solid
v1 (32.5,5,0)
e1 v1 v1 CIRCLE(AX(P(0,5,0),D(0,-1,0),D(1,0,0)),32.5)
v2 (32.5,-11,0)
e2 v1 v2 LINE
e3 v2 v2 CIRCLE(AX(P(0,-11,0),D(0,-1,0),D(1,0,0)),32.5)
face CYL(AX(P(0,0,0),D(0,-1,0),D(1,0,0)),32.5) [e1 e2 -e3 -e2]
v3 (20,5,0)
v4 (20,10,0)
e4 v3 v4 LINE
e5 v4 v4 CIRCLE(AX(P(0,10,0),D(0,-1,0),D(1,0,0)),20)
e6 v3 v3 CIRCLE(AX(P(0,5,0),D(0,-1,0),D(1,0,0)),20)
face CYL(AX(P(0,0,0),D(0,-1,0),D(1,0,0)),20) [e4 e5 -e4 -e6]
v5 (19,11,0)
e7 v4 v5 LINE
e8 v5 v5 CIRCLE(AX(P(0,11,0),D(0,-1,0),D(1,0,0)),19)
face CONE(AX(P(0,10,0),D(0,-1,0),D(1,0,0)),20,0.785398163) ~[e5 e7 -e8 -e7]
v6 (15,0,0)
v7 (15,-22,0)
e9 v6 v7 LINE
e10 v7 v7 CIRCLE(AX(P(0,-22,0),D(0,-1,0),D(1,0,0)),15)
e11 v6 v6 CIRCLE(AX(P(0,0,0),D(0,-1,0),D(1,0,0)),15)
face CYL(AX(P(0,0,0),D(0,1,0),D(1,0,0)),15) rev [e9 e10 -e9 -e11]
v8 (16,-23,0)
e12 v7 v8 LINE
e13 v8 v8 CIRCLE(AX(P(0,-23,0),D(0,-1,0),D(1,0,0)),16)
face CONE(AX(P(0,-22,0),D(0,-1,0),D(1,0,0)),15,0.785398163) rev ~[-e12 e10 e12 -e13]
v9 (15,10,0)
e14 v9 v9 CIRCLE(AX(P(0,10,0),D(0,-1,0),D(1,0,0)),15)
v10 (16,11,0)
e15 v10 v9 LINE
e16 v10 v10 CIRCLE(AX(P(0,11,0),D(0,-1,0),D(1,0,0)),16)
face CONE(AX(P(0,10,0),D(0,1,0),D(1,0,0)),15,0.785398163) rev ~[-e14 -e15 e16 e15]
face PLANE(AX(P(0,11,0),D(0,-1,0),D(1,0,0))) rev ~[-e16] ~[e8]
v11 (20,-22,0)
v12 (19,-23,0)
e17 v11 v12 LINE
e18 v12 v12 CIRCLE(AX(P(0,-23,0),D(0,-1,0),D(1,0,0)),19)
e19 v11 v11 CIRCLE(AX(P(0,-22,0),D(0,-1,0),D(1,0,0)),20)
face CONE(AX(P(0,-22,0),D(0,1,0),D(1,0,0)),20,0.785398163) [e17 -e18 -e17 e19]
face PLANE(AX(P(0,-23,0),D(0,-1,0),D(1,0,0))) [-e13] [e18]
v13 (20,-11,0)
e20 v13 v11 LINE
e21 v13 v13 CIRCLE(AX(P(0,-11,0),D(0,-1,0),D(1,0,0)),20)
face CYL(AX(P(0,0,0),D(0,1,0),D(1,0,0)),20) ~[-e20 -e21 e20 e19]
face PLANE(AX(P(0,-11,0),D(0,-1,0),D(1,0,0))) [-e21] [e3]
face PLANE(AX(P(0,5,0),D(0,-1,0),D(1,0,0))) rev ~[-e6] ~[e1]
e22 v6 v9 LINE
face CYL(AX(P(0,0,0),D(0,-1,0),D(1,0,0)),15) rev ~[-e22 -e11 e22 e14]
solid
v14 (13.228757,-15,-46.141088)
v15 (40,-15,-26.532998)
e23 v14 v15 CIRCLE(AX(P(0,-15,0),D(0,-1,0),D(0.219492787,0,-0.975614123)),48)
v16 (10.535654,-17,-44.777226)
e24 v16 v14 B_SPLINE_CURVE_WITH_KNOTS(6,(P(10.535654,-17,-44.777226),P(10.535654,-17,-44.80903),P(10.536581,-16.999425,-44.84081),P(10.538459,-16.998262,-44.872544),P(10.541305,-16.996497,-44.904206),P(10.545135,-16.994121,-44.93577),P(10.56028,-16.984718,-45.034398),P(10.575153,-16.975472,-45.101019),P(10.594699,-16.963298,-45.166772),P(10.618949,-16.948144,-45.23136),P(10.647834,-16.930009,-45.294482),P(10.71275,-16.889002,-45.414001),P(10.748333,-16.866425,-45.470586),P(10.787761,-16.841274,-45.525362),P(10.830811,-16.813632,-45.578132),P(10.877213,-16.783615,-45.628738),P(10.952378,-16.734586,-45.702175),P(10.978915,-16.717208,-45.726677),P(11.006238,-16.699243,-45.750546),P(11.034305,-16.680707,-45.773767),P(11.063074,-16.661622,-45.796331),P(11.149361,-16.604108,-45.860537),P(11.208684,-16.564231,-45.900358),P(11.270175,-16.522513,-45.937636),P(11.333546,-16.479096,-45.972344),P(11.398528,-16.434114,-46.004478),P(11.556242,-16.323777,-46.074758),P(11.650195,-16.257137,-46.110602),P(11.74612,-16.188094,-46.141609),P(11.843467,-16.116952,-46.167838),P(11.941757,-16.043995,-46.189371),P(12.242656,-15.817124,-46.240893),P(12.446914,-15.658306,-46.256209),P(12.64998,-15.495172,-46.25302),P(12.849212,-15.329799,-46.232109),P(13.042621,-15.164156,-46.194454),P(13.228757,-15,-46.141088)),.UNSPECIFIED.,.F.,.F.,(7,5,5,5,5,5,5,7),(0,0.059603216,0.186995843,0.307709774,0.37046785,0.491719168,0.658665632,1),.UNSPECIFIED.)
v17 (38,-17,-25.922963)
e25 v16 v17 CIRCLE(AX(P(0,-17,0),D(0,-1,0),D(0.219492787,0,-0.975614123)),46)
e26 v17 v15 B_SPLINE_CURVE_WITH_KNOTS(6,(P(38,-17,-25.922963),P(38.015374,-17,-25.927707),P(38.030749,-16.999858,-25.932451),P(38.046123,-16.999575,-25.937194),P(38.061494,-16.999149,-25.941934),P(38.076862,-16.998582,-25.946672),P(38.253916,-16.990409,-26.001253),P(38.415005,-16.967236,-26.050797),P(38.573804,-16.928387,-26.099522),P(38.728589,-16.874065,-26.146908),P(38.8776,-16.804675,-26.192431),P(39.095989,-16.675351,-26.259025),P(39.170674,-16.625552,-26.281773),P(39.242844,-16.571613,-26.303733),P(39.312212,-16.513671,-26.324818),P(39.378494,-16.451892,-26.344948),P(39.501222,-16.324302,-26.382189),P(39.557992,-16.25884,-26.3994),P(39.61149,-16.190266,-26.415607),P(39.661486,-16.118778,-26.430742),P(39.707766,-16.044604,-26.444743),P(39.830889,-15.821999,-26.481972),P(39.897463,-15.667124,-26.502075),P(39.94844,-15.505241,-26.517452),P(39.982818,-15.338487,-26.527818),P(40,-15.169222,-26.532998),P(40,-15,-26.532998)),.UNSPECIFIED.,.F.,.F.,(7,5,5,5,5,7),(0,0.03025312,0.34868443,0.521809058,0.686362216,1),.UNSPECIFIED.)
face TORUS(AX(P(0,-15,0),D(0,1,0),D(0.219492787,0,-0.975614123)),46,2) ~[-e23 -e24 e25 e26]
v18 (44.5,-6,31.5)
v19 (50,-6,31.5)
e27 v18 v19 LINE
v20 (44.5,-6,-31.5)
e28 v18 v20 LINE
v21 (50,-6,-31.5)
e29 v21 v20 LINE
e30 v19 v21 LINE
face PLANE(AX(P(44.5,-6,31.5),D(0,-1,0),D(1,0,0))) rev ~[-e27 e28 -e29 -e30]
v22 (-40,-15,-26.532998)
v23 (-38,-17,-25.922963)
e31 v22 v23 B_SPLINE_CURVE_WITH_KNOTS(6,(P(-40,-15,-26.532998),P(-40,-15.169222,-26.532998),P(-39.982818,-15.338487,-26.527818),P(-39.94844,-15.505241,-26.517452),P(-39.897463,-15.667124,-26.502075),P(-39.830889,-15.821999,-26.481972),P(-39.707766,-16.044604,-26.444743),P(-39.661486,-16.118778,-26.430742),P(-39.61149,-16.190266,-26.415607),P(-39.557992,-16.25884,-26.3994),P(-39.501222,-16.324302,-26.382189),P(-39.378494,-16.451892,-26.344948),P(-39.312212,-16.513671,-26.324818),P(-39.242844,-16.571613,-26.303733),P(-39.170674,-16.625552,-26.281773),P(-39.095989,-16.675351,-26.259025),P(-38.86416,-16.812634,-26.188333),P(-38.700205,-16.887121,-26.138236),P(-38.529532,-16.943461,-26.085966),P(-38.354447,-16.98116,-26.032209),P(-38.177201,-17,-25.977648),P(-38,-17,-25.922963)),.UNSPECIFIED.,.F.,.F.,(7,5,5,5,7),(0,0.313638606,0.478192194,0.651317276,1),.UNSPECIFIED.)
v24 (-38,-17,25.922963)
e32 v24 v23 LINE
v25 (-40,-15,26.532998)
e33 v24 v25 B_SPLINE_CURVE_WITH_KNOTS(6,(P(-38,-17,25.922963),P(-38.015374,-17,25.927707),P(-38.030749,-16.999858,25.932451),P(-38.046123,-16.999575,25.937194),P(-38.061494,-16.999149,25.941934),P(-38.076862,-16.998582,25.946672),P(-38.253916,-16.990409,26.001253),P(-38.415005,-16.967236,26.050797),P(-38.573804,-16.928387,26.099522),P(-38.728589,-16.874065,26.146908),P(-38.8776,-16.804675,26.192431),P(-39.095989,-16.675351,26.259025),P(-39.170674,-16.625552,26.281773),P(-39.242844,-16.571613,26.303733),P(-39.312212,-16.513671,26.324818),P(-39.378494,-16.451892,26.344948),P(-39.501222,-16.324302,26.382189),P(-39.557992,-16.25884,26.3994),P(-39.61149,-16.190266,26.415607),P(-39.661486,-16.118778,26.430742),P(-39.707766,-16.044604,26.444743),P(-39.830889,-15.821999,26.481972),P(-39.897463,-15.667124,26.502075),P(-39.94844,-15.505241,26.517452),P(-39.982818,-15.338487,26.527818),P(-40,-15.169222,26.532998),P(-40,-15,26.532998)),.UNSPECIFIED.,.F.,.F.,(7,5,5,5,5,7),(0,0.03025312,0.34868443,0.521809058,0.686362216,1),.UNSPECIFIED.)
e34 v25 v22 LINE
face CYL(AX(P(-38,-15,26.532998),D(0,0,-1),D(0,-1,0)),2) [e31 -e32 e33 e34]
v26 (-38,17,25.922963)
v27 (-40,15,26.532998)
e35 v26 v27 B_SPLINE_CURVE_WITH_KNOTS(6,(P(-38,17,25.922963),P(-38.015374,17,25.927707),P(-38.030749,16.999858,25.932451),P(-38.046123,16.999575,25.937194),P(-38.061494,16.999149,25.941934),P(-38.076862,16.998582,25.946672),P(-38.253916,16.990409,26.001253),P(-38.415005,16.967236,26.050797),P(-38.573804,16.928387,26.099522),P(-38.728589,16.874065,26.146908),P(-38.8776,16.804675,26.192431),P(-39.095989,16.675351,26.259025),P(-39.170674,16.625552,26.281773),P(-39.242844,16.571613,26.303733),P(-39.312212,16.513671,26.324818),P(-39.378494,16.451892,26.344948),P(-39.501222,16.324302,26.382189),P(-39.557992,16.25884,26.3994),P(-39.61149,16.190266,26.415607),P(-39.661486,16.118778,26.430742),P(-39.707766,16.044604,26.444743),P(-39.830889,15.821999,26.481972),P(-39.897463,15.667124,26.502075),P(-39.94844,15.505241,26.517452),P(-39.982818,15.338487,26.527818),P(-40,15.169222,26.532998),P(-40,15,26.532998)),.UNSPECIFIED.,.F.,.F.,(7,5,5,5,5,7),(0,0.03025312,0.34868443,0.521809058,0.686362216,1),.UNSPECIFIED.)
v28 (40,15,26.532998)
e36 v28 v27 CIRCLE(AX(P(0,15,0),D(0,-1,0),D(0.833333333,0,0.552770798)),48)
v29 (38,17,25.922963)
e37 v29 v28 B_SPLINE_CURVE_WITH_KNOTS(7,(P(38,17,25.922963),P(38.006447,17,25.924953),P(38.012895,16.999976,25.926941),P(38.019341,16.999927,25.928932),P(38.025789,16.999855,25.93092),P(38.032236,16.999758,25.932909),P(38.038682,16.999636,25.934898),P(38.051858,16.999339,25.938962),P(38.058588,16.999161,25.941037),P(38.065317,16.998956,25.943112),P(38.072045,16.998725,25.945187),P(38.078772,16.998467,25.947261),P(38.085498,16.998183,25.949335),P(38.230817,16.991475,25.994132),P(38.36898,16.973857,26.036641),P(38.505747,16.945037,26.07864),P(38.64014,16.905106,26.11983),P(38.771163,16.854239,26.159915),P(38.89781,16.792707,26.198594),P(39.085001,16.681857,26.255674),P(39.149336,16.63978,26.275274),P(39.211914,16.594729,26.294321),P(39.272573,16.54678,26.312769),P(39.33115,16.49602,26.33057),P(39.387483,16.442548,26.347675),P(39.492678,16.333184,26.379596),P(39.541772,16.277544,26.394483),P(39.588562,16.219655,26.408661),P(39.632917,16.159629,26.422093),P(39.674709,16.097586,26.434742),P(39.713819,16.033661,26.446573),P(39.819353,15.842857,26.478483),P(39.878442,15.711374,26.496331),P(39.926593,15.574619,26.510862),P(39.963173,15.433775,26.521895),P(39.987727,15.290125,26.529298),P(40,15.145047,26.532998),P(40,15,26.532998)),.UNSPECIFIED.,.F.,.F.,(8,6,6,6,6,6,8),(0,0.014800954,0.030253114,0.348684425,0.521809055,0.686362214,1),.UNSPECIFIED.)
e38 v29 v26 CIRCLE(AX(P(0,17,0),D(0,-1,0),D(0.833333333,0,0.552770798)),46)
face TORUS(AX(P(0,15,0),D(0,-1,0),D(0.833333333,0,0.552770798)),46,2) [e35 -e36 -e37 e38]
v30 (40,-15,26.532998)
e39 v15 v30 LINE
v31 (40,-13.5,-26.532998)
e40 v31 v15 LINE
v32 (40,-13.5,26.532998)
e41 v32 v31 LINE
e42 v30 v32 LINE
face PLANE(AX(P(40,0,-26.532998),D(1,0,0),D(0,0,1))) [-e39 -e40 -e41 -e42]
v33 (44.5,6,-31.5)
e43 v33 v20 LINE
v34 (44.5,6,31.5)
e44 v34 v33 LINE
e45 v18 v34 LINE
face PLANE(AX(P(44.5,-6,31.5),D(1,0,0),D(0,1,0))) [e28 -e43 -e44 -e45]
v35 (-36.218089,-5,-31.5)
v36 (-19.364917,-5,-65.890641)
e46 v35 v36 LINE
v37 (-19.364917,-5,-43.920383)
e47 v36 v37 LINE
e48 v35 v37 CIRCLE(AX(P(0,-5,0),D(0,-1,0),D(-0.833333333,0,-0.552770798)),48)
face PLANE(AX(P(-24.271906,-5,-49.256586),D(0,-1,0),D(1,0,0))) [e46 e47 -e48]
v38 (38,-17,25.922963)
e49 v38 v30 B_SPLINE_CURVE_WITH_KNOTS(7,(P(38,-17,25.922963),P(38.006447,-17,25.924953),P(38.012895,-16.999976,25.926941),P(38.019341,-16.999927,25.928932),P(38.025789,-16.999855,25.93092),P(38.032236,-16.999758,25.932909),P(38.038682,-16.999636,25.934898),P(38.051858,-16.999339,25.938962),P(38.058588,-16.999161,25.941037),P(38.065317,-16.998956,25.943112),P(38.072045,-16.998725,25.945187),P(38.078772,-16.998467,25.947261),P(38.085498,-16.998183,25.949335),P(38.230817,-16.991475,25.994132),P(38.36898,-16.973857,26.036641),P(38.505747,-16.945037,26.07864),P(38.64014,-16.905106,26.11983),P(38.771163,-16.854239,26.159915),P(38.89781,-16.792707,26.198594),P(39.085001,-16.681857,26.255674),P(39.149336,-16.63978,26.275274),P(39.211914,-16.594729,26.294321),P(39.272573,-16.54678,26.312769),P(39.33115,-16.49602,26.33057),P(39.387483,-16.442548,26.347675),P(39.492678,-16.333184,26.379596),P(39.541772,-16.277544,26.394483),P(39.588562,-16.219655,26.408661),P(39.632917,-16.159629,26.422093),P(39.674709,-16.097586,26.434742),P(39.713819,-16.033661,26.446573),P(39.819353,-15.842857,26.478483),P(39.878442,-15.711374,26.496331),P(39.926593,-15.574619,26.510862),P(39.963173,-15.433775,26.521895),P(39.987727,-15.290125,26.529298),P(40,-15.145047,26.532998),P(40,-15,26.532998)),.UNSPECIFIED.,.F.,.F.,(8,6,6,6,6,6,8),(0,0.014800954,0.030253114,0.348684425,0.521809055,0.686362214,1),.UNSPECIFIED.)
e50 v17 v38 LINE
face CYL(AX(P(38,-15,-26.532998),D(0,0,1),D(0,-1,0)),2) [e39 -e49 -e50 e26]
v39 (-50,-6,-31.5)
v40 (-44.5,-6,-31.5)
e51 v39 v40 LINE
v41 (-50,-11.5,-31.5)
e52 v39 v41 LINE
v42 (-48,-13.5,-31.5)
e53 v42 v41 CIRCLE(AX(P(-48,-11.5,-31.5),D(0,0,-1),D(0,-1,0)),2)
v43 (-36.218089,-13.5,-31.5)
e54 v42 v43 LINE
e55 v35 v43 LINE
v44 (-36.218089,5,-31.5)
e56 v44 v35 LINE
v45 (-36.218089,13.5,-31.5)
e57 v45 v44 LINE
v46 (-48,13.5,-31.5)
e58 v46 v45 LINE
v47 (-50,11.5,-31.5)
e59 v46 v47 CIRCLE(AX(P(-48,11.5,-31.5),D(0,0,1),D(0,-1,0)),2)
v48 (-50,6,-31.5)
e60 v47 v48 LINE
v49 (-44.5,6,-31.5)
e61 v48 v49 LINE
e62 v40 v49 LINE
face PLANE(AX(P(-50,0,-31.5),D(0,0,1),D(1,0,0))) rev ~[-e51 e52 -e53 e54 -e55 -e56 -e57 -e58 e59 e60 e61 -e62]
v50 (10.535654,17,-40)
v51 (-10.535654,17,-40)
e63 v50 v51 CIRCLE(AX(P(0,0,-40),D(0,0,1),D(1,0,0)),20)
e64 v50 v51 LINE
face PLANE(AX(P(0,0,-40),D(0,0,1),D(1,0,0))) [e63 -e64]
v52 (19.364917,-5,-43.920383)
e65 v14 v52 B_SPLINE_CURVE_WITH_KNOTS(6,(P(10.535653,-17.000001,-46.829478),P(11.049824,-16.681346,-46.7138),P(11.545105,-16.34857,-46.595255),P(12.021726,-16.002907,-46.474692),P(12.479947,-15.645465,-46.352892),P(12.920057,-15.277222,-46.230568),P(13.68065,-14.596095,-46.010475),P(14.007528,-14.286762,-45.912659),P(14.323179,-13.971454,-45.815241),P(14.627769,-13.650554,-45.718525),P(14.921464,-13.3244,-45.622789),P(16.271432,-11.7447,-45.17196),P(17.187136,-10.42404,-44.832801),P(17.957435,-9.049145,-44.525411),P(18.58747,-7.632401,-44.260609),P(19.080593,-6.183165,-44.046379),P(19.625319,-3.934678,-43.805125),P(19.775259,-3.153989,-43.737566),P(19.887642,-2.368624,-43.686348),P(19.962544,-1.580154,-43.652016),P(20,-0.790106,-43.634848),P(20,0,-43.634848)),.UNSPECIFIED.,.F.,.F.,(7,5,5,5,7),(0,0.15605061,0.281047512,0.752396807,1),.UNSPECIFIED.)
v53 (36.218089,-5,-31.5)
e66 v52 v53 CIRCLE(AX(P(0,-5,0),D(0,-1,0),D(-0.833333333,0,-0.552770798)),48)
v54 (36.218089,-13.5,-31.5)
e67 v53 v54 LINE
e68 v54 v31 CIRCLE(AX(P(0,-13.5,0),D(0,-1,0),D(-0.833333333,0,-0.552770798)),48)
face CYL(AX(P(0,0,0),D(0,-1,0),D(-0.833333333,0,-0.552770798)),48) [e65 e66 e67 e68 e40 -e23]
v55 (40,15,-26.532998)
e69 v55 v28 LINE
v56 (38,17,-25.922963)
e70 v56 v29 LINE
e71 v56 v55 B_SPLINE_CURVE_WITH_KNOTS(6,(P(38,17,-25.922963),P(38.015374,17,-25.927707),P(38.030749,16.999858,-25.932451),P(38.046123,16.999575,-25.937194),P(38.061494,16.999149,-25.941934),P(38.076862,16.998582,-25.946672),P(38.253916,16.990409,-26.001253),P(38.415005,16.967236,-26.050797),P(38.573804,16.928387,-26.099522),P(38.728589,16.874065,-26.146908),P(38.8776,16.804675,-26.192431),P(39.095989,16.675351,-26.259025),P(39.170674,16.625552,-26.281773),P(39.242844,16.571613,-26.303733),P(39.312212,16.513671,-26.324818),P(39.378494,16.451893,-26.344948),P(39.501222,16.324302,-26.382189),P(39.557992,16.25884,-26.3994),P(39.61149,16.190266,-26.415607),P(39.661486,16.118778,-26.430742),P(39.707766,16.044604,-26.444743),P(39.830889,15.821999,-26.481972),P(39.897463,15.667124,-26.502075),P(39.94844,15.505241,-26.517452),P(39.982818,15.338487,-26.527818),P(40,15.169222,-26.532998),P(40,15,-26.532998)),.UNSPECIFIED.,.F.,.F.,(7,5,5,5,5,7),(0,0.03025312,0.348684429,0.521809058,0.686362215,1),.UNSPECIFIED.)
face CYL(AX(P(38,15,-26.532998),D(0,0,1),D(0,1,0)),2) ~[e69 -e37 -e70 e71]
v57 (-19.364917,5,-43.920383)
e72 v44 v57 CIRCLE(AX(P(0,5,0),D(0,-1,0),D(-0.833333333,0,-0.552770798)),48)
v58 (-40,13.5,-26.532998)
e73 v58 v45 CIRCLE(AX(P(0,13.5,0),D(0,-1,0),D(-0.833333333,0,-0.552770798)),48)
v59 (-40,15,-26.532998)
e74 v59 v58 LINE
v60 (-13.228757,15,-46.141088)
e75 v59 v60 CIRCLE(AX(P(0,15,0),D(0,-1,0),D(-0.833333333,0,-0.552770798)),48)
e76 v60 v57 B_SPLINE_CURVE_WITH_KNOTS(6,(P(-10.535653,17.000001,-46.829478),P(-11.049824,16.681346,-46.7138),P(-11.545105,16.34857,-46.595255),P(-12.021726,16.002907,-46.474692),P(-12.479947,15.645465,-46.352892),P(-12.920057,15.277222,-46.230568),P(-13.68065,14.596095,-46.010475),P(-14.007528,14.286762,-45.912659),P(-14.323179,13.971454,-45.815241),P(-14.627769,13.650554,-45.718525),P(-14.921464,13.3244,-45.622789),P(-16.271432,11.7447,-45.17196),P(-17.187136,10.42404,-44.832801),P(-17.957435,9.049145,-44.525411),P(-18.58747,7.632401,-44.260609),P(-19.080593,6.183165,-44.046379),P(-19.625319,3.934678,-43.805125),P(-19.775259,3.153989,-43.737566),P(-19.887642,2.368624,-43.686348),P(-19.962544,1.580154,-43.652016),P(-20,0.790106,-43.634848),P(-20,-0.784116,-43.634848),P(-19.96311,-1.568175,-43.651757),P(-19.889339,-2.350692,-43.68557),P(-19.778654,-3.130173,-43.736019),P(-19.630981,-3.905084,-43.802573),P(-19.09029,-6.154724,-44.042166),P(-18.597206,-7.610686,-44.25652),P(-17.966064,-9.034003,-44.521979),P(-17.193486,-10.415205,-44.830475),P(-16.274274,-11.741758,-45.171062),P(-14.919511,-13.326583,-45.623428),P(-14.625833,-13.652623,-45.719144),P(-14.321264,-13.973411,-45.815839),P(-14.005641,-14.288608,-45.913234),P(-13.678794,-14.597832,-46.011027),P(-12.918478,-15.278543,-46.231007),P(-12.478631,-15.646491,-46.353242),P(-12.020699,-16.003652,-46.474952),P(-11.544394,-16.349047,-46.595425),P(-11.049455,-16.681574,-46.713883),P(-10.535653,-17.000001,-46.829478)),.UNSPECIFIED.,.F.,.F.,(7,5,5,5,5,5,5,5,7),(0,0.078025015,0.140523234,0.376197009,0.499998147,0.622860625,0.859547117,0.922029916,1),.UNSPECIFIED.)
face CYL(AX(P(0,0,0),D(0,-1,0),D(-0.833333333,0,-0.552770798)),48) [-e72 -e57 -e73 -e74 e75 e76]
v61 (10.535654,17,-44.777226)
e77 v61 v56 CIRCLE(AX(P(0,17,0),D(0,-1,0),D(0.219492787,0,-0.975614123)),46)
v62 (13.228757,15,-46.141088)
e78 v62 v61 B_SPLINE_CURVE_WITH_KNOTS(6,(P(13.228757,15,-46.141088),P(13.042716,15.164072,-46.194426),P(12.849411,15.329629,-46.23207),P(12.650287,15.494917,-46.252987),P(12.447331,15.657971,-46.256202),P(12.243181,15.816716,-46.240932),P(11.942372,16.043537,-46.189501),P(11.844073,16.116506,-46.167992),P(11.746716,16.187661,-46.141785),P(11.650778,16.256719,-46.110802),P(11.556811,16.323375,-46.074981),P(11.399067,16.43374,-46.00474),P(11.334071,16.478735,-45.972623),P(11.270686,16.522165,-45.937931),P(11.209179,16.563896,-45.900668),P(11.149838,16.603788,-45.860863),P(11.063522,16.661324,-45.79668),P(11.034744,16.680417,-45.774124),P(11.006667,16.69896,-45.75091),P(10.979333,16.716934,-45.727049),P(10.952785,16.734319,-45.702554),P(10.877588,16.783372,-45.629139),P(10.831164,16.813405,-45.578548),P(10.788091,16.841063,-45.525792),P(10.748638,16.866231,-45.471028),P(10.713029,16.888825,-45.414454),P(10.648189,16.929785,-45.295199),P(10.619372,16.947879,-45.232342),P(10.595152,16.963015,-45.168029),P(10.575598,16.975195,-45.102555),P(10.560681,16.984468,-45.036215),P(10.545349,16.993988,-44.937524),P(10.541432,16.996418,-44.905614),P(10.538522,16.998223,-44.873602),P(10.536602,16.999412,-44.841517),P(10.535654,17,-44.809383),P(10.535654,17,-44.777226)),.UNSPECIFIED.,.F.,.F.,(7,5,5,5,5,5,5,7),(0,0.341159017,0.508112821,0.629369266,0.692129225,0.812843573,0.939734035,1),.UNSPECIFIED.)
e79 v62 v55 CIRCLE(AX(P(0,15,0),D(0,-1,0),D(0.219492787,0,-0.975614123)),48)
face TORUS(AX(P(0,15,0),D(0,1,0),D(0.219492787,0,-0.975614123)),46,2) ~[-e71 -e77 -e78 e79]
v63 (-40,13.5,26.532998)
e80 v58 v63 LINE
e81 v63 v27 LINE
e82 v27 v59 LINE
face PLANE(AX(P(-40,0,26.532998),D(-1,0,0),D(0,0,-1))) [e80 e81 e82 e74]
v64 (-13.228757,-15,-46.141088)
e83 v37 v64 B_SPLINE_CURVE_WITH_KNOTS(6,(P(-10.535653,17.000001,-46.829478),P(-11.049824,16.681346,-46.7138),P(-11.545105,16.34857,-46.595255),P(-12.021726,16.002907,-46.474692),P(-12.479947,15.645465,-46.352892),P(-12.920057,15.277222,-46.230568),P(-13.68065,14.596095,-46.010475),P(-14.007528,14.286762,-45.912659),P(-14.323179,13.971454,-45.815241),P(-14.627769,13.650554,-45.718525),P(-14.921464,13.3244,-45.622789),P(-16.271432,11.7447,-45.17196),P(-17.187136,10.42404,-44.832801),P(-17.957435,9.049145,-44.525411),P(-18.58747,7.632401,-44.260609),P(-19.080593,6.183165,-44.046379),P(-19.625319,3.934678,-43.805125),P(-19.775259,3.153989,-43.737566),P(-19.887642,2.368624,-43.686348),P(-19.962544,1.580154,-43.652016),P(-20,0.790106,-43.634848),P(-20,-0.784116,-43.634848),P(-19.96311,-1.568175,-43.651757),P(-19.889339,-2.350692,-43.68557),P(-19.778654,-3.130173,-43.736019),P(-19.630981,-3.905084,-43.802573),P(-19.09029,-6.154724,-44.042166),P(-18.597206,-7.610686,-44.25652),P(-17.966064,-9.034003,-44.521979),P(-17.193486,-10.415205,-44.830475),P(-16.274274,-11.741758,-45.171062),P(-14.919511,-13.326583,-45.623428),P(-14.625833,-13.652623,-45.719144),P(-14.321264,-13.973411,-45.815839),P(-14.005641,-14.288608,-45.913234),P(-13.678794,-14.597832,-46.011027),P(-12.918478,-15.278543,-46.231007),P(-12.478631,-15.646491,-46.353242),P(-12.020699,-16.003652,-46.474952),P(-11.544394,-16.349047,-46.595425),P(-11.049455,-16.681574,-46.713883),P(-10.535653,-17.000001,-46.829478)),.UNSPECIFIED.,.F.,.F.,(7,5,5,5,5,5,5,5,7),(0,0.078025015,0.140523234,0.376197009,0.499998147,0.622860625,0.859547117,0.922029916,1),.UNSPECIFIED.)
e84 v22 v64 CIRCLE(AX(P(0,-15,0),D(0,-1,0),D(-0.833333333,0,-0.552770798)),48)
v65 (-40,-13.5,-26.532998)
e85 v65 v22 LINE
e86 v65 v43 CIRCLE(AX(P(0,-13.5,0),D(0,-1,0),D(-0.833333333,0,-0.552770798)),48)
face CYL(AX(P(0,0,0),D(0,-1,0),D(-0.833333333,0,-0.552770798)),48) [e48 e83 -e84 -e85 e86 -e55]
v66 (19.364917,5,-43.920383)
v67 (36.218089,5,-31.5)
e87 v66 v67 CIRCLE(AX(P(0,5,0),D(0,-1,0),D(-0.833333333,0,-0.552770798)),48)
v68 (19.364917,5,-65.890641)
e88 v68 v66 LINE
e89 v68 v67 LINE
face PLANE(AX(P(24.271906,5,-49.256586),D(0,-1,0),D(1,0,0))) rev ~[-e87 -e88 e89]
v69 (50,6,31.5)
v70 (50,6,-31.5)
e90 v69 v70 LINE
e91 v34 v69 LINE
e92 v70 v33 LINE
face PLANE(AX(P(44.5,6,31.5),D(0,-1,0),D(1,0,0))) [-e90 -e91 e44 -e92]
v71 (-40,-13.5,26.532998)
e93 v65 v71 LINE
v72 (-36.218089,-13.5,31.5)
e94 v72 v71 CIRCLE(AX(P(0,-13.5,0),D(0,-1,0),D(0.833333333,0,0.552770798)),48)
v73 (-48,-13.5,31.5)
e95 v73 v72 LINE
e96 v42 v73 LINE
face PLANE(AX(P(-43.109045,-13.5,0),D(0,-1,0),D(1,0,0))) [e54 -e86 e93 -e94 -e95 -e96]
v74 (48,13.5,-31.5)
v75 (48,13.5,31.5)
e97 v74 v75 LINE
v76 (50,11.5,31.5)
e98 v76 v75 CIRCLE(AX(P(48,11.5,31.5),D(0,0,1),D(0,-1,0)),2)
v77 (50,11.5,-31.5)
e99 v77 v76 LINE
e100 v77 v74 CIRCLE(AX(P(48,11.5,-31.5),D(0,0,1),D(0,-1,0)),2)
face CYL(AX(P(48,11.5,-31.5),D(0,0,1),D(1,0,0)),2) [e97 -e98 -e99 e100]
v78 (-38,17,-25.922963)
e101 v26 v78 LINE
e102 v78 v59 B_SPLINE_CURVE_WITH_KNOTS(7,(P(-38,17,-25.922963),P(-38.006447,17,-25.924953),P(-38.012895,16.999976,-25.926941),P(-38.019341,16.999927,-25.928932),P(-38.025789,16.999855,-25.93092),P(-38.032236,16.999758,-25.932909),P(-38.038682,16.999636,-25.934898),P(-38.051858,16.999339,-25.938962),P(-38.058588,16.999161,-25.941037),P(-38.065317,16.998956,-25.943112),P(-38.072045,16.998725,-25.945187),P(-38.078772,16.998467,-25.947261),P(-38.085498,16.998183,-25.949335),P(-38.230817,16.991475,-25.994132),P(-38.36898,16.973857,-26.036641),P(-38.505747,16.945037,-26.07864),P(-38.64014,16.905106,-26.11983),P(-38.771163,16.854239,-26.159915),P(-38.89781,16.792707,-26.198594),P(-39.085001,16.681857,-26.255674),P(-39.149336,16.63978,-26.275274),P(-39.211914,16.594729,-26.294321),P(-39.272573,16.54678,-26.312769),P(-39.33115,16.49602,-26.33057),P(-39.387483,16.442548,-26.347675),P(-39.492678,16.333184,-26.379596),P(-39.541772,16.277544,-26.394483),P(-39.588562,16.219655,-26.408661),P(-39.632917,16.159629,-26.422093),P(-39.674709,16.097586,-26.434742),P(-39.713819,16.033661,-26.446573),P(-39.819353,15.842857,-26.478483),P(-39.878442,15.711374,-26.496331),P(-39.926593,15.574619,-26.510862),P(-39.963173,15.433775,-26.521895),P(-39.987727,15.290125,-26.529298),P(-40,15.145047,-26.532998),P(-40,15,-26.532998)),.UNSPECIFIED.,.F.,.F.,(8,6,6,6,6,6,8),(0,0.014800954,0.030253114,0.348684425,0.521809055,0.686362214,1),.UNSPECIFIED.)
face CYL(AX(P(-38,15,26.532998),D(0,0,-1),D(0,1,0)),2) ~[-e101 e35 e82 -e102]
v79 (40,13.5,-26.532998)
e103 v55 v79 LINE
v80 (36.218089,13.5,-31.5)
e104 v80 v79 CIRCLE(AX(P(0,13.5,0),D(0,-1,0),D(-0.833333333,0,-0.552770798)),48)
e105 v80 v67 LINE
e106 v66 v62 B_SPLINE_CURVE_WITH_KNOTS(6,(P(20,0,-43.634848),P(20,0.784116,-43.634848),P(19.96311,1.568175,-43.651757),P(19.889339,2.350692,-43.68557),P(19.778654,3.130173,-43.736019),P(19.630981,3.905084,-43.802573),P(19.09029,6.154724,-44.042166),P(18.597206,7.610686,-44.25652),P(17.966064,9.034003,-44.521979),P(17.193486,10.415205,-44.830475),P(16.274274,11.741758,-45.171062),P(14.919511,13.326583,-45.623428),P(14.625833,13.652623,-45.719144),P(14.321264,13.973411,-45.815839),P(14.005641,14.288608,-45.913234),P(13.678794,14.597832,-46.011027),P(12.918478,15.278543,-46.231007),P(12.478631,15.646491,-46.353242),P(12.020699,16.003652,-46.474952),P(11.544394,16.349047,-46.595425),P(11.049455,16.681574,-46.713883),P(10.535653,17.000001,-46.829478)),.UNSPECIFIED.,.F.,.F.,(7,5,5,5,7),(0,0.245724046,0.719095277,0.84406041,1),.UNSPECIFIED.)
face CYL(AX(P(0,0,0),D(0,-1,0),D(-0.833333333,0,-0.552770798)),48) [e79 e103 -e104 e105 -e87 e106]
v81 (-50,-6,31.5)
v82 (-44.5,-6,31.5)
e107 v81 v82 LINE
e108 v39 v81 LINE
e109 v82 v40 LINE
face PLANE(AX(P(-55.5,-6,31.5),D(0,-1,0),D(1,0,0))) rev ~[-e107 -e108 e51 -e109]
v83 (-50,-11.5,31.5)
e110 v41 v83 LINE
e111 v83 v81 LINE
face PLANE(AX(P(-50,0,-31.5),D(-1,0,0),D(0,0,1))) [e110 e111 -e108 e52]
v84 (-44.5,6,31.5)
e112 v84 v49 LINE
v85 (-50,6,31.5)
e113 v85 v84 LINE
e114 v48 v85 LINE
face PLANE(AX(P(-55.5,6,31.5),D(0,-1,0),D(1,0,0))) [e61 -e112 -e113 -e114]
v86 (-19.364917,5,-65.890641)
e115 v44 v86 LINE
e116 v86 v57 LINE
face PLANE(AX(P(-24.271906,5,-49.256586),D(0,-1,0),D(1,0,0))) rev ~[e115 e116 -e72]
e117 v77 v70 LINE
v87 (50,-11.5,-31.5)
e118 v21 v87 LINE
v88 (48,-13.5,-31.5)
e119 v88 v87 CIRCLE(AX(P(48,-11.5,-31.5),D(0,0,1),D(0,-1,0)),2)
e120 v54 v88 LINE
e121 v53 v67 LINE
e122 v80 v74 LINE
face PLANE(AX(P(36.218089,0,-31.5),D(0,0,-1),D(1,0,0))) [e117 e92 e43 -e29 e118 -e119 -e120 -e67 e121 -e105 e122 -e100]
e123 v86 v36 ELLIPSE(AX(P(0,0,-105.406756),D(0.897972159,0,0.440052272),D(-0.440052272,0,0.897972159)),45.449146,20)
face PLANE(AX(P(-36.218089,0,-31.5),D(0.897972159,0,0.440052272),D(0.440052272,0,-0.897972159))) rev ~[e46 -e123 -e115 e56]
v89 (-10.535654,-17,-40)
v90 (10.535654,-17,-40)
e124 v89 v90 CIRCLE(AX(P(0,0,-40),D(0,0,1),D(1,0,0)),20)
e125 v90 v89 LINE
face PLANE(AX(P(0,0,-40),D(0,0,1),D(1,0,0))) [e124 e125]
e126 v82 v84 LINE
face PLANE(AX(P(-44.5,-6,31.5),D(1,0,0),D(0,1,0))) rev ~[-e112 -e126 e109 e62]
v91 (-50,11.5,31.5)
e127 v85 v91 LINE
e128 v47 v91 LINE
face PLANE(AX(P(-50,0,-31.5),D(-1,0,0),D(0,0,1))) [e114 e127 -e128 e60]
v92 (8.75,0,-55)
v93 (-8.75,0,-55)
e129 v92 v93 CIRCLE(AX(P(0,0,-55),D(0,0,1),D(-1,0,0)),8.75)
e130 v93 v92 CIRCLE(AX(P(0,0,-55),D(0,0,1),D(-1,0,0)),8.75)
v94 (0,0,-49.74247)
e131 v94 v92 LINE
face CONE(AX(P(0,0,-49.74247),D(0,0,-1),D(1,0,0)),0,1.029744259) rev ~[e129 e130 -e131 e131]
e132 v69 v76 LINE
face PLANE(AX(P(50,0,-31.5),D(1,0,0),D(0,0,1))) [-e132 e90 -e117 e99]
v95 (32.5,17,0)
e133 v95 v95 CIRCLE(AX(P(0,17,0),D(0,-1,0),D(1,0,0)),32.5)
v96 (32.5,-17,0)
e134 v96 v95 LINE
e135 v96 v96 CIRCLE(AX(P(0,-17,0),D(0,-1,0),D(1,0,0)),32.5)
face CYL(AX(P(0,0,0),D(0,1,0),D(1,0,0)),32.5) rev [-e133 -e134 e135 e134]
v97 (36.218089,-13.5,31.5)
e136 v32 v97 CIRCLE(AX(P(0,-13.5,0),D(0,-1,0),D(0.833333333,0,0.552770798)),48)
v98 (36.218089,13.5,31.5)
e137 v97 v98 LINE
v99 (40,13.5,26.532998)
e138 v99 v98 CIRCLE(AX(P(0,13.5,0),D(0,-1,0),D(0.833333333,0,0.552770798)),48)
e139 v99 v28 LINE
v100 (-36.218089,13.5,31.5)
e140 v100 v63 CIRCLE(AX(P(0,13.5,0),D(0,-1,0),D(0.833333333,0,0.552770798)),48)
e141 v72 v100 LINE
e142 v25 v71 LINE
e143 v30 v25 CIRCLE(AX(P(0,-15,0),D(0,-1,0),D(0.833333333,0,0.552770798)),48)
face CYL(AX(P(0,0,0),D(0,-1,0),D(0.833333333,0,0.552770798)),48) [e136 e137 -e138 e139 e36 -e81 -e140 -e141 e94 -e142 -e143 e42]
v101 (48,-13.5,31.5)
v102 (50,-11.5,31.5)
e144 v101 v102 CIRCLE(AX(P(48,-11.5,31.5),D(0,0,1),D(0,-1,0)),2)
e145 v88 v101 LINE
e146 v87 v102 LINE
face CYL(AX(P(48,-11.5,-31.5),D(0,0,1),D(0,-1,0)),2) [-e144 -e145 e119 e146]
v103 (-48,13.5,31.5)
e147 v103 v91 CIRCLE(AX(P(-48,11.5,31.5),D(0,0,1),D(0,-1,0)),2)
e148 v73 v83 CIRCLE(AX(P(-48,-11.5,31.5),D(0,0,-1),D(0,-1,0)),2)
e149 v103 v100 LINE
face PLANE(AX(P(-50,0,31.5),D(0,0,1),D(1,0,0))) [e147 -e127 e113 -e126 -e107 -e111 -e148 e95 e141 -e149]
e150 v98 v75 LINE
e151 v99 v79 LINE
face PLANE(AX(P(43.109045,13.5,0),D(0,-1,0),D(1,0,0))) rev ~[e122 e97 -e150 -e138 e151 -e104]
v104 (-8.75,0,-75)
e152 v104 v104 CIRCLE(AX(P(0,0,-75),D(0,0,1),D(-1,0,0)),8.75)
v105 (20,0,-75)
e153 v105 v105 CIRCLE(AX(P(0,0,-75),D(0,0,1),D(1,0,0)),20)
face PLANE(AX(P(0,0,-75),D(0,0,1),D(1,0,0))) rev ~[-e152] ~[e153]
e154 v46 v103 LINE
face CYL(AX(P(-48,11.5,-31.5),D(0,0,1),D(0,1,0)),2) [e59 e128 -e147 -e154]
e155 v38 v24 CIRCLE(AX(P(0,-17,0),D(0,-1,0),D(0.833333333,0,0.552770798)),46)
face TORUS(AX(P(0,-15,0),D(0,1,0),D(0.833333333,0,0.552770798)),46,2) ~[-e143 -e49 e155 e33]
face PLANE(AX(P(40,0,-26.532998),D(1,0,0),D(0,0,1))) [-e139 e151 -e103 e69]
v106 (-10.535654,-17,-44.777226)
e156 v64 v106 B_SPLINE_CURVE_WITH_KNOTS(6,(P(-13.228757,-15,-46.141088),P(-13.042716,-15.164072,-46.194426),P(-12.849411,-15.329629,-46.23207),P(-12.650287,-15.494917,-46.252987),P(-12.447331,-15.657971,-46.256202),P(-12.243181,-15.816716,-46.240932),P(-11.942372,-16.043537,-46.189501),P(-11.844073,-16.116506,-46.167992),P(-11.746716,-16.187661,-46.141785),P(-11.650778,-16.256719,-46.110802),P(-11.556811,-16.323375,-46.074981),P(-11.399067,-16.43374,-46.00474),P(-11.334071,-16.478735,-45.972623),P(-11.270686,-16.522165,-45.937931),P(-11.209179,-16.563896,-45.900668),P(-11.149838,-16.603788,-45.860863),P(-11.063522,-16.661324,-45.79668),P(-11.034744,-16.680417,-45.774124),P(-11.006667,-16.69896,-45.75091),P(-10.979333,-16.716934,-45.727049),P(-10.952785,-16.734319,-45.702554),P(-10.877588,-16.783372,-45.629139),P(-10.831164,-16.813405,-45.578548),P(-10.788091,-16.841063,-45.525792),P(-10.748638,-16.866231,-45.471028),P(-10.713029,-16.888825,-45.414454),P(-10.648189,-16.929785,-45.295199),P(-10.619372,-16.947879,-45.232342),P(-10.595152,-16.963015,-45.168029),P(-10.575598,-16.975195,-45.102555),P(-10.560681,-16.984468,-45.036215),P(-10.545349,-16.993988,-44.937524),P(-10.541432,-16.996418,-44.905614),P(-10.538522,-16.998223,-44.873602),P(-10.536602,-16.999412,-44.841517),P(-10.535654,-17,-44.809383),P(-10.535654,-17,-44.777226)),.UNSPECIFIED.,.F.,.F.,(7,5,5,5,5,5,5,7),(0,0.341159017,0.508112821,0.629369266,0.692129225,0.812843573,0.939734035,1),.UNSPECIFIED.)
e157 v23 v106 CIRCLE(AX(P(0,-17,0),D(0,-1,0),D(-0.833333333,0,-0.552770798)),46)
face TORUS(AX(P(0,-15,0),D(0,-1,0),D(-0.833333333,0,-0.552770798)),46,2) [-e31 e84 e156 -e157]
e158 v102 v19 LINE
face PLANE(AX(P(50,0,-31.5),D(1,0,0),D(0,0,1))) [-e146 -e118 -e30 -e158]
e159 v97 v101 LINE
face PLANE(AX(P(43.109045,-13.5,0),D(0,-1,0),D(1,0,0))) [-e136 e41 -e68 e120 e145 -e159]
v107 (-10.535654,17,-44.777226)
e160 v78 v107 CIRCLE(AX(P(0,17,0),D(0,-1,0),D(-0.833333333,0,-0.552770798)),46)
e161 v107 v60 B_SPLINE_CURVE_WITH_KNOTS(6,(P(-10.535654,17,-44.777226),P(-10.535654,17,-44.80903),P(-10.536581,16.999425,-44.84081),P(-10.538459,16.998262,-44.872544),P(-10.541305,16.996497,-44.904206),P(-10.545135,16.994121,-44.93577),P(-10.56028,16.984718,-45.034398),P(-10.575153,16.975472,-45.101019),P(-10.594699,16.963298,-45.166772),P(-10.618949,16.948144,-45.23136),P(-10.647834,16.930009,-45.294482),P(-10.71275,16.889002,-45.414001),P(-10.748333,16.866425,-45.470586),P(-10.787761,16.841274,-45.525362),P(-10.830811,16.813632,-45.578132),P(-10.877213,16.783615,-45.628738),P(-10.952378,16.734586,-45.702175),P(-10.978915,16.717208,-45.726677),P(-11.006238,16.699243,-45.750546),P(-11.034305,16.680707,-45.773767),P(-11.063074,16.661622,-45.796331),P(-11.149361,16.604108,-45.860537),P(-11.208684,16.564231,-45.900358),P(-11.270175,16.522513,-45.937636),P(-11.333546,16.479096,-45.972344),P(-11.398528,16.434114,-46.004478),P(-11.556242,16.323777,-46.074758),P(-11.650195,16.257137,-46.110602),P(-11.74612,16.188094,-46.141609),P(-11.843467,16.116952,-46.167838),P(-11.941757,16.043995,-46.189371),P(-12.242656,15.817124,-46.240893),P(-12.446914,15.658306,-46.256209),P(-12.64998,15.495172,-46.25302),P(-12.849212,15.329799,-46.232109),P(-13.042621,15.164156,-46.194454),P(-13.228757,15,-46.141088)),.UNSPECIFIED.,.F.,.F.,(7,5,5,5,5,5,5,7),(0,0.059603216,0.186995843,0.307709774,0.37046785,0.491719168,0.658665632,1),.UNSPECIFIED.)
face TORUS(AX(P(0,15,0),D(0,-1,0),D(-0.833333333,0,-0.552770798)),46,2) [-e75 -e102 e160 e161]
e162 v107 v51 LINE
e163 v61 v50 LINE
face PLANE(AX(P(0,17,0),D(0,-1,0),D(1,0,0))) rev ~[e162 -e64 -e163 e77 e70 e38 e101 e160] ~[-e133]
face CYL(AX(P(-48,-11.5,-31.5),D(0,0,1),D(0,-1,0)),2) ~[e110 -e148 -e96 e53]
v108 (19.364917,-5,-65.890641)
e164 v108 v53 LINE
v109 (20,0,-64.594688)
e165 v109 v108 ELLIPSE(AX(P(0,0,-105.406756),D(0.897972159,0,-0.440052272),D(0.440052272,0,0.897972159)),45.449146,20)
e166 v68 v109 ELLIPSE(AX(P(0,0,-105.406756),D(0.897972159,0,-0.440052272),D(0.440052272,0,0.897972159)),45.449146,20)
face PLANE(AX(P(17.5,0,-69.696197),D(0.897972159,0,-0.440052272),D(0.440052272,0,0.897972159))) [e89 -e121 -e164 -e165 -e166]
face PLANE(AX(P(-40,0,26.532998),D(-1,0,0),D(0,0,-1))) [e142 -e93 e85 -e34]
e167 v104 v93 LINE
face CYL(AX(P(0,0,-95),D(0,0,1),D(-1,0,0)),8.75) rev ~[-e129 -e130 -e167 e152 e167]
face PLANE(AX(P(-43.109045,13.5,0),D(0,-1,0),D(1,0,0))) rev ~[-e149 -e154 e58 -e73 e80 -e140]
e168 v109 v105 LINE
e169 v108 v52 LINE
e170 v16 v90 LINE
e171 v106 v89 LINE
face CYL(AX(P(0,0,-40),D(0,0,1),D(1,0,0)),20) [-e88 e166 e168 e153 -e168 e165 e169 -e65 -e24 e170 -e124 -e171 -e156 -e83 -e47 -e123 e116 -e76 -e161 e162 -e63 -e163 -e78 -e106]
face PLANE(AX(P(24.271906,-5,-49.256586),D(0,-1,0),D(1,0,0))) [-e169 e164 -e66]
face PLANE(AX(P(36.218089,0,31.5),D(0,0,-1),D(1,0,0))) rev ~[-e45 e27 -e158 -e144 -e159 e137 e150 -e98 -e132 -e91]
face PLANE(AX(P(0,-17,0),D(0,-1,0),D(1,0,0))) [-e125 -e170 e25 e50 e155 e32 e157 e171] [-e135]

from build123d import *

# Parameters (mm, degrees)
F0_R           = 32.5
F1_DEPTH       = 17
F2_W           = 13.7819105971
F2_H           = 63
F3_DEPTH       = 13.5
F4_W           = 11
F4_H           = 12
F5_DEPTH       = 79.501
F7_R           = 20
F8_DEPTH       = 35
F10_D          = 17.5
F10_DEPTH      = 20
F10_TIP        = 5.2575304165
F12_DEPTH      = 5
F13_R          = 32.5
F13_R_2        = 20
F14_DEPTH      = 11
F14_DEPTH_BACK = 5
F15_R          = 20
F15_R_2        = 15
F16_DEPTH      = 23
F16_DEPTH_BACK = 11
F17_SIZE       = 1
F18_R          = 2


with BuildPart() as f1:
    # F0 (on Front) → F1 (new body, symmetric)
    with BuildSketch(Plane.XZ):
        with BuildLine():
            Line((-40, 26.5329983228), (-40, -26.5329983228))
            ThreePointArc((-40, -26.5329983228), (0, -48), (40, -26.5329983228))
            Line((40, -26.5329983228), (40, 26.5329983228))
            ThreePointArc((40, 26.5329983228), (0, 48), (-40, 26.5329983228))
        make_face()
        Circle(F0_R, mode=Mode.SUBTRACT)
    extrude(amount=F1_DEPTH, both=True)

    # F2 (on Front) → F3 (join, symmetric)
    with BuildSketch(Plane.XZ):
        with Locations((-43.1090447015, 0)):
            Rectangle(F2_W, F2_H)
        with Locations((43.1090447015, 0)):
            Rectangle(F2_W, F2_H)
    extrude(amount=F3_DEPTH, both=True)

    # F4 (on face) → F5 (cut, through all)
    with BuildSketch(Plane.XY.offset(31.5)):
        with Locations((50, 0)):
            Rectangle(F4_W, F4_H)
        with Locations((-50, 0)):
            Rectangle(F4_W, F4_H)
    extrude(amount=-F5_DEPTH, mode=Mode.SUBTRACT)

    # F7 (on offset) → F8 (join)
    with BuildSketch(Plane.XY.offset(-40)):
        Circle(F7_R)
    extrude(amount=-F8_DEPTH)

    # F10
    with Locations(Plane(origin=(0, 0, -75), x_dir=(1, 0, 0), z_dir=(0, 0, -1))):
        with Locations((0, 0)):
            Hole(F10_D / 2, depth=F10_DEPTH)
            with Locations((0, 0, -(F10_DEPTH + F10_TIP / 2))):  # 118° drill point
                Cone(0, F10_D / 2, F10_TIP, mode=Mode.SUBTRACT)

    # F11 (on Front) → F12 (join, symmetric)
    with BuildSketch(Plane.XZ):
        Polygon((-17.5, -44.6961967062), (-36.2180894029, -31.5), (-17.5, -69.6961967062), align=None)
        Polygon((36.2180894029, -31.5), (17.5, -44.6961967062), (17.5, -69.6961967062), align=None)
    extrude(amount=F12_DEPTH, both=True)

    # F18
    f18_edges = [f1.edges().sort_by_distance(p)[0] for p in [
        (0, -17, 48),
        (-27.229577, -17, -39.529105),
        (27.229577, -17, -39.529105),
        (-40, -17, 0),
        (40, -17, 0),
        (0, 17, 48),
        (40, 17, 0),
        (27.229577, 17, -39.529105),
        (-27.229577, 17, -39.529105),
        (-40, 17, 0),
        (50, -13.5, 0),
        (50, 13.5, 0),
        (-50, -13.5, 0),
        (-50, 13.5, 0),
    ]]
    fillet(f18_edges, radius=F18_R)


with BuildPart() as f14:
    # F13 (on Front) → F14 (new body, two sides)
    with BuildSketch(Plane.XZ) as f14_sk:
        Circle(F13_R)
        Circle(F13_R_2, mode=Mode.SUBTRACT)
    extrude(amount=F14_DEPTH)
    extrude(f14_sk.sketch, amount=-F14_DEPTH_BACK)

    # F15 (on Front) → F16 (join, two sides)
    with BuildSketch(Plane.XZ) as f16_sk:
        Circle(F15_R)
        Circle(F15_R_2, mode=Mode.SUBTRACT)
    extrude(amount=F16_DEPTH)
    extrude(f16_sk.sketch, amount=-F16_DEPTH_BACK)

    # F17
    f17_edges = [f14.edges().sort_by_distance(p)[0] for p in [
        (-20, -23, 0),
        (-15, -23, 0),
        (-20, 11, 0),
        (-15, 11, 0),
    ]]
    chamfer(f17_edges, length=F17_SIZE)


solid = Compound([f1.part, f14.part])
